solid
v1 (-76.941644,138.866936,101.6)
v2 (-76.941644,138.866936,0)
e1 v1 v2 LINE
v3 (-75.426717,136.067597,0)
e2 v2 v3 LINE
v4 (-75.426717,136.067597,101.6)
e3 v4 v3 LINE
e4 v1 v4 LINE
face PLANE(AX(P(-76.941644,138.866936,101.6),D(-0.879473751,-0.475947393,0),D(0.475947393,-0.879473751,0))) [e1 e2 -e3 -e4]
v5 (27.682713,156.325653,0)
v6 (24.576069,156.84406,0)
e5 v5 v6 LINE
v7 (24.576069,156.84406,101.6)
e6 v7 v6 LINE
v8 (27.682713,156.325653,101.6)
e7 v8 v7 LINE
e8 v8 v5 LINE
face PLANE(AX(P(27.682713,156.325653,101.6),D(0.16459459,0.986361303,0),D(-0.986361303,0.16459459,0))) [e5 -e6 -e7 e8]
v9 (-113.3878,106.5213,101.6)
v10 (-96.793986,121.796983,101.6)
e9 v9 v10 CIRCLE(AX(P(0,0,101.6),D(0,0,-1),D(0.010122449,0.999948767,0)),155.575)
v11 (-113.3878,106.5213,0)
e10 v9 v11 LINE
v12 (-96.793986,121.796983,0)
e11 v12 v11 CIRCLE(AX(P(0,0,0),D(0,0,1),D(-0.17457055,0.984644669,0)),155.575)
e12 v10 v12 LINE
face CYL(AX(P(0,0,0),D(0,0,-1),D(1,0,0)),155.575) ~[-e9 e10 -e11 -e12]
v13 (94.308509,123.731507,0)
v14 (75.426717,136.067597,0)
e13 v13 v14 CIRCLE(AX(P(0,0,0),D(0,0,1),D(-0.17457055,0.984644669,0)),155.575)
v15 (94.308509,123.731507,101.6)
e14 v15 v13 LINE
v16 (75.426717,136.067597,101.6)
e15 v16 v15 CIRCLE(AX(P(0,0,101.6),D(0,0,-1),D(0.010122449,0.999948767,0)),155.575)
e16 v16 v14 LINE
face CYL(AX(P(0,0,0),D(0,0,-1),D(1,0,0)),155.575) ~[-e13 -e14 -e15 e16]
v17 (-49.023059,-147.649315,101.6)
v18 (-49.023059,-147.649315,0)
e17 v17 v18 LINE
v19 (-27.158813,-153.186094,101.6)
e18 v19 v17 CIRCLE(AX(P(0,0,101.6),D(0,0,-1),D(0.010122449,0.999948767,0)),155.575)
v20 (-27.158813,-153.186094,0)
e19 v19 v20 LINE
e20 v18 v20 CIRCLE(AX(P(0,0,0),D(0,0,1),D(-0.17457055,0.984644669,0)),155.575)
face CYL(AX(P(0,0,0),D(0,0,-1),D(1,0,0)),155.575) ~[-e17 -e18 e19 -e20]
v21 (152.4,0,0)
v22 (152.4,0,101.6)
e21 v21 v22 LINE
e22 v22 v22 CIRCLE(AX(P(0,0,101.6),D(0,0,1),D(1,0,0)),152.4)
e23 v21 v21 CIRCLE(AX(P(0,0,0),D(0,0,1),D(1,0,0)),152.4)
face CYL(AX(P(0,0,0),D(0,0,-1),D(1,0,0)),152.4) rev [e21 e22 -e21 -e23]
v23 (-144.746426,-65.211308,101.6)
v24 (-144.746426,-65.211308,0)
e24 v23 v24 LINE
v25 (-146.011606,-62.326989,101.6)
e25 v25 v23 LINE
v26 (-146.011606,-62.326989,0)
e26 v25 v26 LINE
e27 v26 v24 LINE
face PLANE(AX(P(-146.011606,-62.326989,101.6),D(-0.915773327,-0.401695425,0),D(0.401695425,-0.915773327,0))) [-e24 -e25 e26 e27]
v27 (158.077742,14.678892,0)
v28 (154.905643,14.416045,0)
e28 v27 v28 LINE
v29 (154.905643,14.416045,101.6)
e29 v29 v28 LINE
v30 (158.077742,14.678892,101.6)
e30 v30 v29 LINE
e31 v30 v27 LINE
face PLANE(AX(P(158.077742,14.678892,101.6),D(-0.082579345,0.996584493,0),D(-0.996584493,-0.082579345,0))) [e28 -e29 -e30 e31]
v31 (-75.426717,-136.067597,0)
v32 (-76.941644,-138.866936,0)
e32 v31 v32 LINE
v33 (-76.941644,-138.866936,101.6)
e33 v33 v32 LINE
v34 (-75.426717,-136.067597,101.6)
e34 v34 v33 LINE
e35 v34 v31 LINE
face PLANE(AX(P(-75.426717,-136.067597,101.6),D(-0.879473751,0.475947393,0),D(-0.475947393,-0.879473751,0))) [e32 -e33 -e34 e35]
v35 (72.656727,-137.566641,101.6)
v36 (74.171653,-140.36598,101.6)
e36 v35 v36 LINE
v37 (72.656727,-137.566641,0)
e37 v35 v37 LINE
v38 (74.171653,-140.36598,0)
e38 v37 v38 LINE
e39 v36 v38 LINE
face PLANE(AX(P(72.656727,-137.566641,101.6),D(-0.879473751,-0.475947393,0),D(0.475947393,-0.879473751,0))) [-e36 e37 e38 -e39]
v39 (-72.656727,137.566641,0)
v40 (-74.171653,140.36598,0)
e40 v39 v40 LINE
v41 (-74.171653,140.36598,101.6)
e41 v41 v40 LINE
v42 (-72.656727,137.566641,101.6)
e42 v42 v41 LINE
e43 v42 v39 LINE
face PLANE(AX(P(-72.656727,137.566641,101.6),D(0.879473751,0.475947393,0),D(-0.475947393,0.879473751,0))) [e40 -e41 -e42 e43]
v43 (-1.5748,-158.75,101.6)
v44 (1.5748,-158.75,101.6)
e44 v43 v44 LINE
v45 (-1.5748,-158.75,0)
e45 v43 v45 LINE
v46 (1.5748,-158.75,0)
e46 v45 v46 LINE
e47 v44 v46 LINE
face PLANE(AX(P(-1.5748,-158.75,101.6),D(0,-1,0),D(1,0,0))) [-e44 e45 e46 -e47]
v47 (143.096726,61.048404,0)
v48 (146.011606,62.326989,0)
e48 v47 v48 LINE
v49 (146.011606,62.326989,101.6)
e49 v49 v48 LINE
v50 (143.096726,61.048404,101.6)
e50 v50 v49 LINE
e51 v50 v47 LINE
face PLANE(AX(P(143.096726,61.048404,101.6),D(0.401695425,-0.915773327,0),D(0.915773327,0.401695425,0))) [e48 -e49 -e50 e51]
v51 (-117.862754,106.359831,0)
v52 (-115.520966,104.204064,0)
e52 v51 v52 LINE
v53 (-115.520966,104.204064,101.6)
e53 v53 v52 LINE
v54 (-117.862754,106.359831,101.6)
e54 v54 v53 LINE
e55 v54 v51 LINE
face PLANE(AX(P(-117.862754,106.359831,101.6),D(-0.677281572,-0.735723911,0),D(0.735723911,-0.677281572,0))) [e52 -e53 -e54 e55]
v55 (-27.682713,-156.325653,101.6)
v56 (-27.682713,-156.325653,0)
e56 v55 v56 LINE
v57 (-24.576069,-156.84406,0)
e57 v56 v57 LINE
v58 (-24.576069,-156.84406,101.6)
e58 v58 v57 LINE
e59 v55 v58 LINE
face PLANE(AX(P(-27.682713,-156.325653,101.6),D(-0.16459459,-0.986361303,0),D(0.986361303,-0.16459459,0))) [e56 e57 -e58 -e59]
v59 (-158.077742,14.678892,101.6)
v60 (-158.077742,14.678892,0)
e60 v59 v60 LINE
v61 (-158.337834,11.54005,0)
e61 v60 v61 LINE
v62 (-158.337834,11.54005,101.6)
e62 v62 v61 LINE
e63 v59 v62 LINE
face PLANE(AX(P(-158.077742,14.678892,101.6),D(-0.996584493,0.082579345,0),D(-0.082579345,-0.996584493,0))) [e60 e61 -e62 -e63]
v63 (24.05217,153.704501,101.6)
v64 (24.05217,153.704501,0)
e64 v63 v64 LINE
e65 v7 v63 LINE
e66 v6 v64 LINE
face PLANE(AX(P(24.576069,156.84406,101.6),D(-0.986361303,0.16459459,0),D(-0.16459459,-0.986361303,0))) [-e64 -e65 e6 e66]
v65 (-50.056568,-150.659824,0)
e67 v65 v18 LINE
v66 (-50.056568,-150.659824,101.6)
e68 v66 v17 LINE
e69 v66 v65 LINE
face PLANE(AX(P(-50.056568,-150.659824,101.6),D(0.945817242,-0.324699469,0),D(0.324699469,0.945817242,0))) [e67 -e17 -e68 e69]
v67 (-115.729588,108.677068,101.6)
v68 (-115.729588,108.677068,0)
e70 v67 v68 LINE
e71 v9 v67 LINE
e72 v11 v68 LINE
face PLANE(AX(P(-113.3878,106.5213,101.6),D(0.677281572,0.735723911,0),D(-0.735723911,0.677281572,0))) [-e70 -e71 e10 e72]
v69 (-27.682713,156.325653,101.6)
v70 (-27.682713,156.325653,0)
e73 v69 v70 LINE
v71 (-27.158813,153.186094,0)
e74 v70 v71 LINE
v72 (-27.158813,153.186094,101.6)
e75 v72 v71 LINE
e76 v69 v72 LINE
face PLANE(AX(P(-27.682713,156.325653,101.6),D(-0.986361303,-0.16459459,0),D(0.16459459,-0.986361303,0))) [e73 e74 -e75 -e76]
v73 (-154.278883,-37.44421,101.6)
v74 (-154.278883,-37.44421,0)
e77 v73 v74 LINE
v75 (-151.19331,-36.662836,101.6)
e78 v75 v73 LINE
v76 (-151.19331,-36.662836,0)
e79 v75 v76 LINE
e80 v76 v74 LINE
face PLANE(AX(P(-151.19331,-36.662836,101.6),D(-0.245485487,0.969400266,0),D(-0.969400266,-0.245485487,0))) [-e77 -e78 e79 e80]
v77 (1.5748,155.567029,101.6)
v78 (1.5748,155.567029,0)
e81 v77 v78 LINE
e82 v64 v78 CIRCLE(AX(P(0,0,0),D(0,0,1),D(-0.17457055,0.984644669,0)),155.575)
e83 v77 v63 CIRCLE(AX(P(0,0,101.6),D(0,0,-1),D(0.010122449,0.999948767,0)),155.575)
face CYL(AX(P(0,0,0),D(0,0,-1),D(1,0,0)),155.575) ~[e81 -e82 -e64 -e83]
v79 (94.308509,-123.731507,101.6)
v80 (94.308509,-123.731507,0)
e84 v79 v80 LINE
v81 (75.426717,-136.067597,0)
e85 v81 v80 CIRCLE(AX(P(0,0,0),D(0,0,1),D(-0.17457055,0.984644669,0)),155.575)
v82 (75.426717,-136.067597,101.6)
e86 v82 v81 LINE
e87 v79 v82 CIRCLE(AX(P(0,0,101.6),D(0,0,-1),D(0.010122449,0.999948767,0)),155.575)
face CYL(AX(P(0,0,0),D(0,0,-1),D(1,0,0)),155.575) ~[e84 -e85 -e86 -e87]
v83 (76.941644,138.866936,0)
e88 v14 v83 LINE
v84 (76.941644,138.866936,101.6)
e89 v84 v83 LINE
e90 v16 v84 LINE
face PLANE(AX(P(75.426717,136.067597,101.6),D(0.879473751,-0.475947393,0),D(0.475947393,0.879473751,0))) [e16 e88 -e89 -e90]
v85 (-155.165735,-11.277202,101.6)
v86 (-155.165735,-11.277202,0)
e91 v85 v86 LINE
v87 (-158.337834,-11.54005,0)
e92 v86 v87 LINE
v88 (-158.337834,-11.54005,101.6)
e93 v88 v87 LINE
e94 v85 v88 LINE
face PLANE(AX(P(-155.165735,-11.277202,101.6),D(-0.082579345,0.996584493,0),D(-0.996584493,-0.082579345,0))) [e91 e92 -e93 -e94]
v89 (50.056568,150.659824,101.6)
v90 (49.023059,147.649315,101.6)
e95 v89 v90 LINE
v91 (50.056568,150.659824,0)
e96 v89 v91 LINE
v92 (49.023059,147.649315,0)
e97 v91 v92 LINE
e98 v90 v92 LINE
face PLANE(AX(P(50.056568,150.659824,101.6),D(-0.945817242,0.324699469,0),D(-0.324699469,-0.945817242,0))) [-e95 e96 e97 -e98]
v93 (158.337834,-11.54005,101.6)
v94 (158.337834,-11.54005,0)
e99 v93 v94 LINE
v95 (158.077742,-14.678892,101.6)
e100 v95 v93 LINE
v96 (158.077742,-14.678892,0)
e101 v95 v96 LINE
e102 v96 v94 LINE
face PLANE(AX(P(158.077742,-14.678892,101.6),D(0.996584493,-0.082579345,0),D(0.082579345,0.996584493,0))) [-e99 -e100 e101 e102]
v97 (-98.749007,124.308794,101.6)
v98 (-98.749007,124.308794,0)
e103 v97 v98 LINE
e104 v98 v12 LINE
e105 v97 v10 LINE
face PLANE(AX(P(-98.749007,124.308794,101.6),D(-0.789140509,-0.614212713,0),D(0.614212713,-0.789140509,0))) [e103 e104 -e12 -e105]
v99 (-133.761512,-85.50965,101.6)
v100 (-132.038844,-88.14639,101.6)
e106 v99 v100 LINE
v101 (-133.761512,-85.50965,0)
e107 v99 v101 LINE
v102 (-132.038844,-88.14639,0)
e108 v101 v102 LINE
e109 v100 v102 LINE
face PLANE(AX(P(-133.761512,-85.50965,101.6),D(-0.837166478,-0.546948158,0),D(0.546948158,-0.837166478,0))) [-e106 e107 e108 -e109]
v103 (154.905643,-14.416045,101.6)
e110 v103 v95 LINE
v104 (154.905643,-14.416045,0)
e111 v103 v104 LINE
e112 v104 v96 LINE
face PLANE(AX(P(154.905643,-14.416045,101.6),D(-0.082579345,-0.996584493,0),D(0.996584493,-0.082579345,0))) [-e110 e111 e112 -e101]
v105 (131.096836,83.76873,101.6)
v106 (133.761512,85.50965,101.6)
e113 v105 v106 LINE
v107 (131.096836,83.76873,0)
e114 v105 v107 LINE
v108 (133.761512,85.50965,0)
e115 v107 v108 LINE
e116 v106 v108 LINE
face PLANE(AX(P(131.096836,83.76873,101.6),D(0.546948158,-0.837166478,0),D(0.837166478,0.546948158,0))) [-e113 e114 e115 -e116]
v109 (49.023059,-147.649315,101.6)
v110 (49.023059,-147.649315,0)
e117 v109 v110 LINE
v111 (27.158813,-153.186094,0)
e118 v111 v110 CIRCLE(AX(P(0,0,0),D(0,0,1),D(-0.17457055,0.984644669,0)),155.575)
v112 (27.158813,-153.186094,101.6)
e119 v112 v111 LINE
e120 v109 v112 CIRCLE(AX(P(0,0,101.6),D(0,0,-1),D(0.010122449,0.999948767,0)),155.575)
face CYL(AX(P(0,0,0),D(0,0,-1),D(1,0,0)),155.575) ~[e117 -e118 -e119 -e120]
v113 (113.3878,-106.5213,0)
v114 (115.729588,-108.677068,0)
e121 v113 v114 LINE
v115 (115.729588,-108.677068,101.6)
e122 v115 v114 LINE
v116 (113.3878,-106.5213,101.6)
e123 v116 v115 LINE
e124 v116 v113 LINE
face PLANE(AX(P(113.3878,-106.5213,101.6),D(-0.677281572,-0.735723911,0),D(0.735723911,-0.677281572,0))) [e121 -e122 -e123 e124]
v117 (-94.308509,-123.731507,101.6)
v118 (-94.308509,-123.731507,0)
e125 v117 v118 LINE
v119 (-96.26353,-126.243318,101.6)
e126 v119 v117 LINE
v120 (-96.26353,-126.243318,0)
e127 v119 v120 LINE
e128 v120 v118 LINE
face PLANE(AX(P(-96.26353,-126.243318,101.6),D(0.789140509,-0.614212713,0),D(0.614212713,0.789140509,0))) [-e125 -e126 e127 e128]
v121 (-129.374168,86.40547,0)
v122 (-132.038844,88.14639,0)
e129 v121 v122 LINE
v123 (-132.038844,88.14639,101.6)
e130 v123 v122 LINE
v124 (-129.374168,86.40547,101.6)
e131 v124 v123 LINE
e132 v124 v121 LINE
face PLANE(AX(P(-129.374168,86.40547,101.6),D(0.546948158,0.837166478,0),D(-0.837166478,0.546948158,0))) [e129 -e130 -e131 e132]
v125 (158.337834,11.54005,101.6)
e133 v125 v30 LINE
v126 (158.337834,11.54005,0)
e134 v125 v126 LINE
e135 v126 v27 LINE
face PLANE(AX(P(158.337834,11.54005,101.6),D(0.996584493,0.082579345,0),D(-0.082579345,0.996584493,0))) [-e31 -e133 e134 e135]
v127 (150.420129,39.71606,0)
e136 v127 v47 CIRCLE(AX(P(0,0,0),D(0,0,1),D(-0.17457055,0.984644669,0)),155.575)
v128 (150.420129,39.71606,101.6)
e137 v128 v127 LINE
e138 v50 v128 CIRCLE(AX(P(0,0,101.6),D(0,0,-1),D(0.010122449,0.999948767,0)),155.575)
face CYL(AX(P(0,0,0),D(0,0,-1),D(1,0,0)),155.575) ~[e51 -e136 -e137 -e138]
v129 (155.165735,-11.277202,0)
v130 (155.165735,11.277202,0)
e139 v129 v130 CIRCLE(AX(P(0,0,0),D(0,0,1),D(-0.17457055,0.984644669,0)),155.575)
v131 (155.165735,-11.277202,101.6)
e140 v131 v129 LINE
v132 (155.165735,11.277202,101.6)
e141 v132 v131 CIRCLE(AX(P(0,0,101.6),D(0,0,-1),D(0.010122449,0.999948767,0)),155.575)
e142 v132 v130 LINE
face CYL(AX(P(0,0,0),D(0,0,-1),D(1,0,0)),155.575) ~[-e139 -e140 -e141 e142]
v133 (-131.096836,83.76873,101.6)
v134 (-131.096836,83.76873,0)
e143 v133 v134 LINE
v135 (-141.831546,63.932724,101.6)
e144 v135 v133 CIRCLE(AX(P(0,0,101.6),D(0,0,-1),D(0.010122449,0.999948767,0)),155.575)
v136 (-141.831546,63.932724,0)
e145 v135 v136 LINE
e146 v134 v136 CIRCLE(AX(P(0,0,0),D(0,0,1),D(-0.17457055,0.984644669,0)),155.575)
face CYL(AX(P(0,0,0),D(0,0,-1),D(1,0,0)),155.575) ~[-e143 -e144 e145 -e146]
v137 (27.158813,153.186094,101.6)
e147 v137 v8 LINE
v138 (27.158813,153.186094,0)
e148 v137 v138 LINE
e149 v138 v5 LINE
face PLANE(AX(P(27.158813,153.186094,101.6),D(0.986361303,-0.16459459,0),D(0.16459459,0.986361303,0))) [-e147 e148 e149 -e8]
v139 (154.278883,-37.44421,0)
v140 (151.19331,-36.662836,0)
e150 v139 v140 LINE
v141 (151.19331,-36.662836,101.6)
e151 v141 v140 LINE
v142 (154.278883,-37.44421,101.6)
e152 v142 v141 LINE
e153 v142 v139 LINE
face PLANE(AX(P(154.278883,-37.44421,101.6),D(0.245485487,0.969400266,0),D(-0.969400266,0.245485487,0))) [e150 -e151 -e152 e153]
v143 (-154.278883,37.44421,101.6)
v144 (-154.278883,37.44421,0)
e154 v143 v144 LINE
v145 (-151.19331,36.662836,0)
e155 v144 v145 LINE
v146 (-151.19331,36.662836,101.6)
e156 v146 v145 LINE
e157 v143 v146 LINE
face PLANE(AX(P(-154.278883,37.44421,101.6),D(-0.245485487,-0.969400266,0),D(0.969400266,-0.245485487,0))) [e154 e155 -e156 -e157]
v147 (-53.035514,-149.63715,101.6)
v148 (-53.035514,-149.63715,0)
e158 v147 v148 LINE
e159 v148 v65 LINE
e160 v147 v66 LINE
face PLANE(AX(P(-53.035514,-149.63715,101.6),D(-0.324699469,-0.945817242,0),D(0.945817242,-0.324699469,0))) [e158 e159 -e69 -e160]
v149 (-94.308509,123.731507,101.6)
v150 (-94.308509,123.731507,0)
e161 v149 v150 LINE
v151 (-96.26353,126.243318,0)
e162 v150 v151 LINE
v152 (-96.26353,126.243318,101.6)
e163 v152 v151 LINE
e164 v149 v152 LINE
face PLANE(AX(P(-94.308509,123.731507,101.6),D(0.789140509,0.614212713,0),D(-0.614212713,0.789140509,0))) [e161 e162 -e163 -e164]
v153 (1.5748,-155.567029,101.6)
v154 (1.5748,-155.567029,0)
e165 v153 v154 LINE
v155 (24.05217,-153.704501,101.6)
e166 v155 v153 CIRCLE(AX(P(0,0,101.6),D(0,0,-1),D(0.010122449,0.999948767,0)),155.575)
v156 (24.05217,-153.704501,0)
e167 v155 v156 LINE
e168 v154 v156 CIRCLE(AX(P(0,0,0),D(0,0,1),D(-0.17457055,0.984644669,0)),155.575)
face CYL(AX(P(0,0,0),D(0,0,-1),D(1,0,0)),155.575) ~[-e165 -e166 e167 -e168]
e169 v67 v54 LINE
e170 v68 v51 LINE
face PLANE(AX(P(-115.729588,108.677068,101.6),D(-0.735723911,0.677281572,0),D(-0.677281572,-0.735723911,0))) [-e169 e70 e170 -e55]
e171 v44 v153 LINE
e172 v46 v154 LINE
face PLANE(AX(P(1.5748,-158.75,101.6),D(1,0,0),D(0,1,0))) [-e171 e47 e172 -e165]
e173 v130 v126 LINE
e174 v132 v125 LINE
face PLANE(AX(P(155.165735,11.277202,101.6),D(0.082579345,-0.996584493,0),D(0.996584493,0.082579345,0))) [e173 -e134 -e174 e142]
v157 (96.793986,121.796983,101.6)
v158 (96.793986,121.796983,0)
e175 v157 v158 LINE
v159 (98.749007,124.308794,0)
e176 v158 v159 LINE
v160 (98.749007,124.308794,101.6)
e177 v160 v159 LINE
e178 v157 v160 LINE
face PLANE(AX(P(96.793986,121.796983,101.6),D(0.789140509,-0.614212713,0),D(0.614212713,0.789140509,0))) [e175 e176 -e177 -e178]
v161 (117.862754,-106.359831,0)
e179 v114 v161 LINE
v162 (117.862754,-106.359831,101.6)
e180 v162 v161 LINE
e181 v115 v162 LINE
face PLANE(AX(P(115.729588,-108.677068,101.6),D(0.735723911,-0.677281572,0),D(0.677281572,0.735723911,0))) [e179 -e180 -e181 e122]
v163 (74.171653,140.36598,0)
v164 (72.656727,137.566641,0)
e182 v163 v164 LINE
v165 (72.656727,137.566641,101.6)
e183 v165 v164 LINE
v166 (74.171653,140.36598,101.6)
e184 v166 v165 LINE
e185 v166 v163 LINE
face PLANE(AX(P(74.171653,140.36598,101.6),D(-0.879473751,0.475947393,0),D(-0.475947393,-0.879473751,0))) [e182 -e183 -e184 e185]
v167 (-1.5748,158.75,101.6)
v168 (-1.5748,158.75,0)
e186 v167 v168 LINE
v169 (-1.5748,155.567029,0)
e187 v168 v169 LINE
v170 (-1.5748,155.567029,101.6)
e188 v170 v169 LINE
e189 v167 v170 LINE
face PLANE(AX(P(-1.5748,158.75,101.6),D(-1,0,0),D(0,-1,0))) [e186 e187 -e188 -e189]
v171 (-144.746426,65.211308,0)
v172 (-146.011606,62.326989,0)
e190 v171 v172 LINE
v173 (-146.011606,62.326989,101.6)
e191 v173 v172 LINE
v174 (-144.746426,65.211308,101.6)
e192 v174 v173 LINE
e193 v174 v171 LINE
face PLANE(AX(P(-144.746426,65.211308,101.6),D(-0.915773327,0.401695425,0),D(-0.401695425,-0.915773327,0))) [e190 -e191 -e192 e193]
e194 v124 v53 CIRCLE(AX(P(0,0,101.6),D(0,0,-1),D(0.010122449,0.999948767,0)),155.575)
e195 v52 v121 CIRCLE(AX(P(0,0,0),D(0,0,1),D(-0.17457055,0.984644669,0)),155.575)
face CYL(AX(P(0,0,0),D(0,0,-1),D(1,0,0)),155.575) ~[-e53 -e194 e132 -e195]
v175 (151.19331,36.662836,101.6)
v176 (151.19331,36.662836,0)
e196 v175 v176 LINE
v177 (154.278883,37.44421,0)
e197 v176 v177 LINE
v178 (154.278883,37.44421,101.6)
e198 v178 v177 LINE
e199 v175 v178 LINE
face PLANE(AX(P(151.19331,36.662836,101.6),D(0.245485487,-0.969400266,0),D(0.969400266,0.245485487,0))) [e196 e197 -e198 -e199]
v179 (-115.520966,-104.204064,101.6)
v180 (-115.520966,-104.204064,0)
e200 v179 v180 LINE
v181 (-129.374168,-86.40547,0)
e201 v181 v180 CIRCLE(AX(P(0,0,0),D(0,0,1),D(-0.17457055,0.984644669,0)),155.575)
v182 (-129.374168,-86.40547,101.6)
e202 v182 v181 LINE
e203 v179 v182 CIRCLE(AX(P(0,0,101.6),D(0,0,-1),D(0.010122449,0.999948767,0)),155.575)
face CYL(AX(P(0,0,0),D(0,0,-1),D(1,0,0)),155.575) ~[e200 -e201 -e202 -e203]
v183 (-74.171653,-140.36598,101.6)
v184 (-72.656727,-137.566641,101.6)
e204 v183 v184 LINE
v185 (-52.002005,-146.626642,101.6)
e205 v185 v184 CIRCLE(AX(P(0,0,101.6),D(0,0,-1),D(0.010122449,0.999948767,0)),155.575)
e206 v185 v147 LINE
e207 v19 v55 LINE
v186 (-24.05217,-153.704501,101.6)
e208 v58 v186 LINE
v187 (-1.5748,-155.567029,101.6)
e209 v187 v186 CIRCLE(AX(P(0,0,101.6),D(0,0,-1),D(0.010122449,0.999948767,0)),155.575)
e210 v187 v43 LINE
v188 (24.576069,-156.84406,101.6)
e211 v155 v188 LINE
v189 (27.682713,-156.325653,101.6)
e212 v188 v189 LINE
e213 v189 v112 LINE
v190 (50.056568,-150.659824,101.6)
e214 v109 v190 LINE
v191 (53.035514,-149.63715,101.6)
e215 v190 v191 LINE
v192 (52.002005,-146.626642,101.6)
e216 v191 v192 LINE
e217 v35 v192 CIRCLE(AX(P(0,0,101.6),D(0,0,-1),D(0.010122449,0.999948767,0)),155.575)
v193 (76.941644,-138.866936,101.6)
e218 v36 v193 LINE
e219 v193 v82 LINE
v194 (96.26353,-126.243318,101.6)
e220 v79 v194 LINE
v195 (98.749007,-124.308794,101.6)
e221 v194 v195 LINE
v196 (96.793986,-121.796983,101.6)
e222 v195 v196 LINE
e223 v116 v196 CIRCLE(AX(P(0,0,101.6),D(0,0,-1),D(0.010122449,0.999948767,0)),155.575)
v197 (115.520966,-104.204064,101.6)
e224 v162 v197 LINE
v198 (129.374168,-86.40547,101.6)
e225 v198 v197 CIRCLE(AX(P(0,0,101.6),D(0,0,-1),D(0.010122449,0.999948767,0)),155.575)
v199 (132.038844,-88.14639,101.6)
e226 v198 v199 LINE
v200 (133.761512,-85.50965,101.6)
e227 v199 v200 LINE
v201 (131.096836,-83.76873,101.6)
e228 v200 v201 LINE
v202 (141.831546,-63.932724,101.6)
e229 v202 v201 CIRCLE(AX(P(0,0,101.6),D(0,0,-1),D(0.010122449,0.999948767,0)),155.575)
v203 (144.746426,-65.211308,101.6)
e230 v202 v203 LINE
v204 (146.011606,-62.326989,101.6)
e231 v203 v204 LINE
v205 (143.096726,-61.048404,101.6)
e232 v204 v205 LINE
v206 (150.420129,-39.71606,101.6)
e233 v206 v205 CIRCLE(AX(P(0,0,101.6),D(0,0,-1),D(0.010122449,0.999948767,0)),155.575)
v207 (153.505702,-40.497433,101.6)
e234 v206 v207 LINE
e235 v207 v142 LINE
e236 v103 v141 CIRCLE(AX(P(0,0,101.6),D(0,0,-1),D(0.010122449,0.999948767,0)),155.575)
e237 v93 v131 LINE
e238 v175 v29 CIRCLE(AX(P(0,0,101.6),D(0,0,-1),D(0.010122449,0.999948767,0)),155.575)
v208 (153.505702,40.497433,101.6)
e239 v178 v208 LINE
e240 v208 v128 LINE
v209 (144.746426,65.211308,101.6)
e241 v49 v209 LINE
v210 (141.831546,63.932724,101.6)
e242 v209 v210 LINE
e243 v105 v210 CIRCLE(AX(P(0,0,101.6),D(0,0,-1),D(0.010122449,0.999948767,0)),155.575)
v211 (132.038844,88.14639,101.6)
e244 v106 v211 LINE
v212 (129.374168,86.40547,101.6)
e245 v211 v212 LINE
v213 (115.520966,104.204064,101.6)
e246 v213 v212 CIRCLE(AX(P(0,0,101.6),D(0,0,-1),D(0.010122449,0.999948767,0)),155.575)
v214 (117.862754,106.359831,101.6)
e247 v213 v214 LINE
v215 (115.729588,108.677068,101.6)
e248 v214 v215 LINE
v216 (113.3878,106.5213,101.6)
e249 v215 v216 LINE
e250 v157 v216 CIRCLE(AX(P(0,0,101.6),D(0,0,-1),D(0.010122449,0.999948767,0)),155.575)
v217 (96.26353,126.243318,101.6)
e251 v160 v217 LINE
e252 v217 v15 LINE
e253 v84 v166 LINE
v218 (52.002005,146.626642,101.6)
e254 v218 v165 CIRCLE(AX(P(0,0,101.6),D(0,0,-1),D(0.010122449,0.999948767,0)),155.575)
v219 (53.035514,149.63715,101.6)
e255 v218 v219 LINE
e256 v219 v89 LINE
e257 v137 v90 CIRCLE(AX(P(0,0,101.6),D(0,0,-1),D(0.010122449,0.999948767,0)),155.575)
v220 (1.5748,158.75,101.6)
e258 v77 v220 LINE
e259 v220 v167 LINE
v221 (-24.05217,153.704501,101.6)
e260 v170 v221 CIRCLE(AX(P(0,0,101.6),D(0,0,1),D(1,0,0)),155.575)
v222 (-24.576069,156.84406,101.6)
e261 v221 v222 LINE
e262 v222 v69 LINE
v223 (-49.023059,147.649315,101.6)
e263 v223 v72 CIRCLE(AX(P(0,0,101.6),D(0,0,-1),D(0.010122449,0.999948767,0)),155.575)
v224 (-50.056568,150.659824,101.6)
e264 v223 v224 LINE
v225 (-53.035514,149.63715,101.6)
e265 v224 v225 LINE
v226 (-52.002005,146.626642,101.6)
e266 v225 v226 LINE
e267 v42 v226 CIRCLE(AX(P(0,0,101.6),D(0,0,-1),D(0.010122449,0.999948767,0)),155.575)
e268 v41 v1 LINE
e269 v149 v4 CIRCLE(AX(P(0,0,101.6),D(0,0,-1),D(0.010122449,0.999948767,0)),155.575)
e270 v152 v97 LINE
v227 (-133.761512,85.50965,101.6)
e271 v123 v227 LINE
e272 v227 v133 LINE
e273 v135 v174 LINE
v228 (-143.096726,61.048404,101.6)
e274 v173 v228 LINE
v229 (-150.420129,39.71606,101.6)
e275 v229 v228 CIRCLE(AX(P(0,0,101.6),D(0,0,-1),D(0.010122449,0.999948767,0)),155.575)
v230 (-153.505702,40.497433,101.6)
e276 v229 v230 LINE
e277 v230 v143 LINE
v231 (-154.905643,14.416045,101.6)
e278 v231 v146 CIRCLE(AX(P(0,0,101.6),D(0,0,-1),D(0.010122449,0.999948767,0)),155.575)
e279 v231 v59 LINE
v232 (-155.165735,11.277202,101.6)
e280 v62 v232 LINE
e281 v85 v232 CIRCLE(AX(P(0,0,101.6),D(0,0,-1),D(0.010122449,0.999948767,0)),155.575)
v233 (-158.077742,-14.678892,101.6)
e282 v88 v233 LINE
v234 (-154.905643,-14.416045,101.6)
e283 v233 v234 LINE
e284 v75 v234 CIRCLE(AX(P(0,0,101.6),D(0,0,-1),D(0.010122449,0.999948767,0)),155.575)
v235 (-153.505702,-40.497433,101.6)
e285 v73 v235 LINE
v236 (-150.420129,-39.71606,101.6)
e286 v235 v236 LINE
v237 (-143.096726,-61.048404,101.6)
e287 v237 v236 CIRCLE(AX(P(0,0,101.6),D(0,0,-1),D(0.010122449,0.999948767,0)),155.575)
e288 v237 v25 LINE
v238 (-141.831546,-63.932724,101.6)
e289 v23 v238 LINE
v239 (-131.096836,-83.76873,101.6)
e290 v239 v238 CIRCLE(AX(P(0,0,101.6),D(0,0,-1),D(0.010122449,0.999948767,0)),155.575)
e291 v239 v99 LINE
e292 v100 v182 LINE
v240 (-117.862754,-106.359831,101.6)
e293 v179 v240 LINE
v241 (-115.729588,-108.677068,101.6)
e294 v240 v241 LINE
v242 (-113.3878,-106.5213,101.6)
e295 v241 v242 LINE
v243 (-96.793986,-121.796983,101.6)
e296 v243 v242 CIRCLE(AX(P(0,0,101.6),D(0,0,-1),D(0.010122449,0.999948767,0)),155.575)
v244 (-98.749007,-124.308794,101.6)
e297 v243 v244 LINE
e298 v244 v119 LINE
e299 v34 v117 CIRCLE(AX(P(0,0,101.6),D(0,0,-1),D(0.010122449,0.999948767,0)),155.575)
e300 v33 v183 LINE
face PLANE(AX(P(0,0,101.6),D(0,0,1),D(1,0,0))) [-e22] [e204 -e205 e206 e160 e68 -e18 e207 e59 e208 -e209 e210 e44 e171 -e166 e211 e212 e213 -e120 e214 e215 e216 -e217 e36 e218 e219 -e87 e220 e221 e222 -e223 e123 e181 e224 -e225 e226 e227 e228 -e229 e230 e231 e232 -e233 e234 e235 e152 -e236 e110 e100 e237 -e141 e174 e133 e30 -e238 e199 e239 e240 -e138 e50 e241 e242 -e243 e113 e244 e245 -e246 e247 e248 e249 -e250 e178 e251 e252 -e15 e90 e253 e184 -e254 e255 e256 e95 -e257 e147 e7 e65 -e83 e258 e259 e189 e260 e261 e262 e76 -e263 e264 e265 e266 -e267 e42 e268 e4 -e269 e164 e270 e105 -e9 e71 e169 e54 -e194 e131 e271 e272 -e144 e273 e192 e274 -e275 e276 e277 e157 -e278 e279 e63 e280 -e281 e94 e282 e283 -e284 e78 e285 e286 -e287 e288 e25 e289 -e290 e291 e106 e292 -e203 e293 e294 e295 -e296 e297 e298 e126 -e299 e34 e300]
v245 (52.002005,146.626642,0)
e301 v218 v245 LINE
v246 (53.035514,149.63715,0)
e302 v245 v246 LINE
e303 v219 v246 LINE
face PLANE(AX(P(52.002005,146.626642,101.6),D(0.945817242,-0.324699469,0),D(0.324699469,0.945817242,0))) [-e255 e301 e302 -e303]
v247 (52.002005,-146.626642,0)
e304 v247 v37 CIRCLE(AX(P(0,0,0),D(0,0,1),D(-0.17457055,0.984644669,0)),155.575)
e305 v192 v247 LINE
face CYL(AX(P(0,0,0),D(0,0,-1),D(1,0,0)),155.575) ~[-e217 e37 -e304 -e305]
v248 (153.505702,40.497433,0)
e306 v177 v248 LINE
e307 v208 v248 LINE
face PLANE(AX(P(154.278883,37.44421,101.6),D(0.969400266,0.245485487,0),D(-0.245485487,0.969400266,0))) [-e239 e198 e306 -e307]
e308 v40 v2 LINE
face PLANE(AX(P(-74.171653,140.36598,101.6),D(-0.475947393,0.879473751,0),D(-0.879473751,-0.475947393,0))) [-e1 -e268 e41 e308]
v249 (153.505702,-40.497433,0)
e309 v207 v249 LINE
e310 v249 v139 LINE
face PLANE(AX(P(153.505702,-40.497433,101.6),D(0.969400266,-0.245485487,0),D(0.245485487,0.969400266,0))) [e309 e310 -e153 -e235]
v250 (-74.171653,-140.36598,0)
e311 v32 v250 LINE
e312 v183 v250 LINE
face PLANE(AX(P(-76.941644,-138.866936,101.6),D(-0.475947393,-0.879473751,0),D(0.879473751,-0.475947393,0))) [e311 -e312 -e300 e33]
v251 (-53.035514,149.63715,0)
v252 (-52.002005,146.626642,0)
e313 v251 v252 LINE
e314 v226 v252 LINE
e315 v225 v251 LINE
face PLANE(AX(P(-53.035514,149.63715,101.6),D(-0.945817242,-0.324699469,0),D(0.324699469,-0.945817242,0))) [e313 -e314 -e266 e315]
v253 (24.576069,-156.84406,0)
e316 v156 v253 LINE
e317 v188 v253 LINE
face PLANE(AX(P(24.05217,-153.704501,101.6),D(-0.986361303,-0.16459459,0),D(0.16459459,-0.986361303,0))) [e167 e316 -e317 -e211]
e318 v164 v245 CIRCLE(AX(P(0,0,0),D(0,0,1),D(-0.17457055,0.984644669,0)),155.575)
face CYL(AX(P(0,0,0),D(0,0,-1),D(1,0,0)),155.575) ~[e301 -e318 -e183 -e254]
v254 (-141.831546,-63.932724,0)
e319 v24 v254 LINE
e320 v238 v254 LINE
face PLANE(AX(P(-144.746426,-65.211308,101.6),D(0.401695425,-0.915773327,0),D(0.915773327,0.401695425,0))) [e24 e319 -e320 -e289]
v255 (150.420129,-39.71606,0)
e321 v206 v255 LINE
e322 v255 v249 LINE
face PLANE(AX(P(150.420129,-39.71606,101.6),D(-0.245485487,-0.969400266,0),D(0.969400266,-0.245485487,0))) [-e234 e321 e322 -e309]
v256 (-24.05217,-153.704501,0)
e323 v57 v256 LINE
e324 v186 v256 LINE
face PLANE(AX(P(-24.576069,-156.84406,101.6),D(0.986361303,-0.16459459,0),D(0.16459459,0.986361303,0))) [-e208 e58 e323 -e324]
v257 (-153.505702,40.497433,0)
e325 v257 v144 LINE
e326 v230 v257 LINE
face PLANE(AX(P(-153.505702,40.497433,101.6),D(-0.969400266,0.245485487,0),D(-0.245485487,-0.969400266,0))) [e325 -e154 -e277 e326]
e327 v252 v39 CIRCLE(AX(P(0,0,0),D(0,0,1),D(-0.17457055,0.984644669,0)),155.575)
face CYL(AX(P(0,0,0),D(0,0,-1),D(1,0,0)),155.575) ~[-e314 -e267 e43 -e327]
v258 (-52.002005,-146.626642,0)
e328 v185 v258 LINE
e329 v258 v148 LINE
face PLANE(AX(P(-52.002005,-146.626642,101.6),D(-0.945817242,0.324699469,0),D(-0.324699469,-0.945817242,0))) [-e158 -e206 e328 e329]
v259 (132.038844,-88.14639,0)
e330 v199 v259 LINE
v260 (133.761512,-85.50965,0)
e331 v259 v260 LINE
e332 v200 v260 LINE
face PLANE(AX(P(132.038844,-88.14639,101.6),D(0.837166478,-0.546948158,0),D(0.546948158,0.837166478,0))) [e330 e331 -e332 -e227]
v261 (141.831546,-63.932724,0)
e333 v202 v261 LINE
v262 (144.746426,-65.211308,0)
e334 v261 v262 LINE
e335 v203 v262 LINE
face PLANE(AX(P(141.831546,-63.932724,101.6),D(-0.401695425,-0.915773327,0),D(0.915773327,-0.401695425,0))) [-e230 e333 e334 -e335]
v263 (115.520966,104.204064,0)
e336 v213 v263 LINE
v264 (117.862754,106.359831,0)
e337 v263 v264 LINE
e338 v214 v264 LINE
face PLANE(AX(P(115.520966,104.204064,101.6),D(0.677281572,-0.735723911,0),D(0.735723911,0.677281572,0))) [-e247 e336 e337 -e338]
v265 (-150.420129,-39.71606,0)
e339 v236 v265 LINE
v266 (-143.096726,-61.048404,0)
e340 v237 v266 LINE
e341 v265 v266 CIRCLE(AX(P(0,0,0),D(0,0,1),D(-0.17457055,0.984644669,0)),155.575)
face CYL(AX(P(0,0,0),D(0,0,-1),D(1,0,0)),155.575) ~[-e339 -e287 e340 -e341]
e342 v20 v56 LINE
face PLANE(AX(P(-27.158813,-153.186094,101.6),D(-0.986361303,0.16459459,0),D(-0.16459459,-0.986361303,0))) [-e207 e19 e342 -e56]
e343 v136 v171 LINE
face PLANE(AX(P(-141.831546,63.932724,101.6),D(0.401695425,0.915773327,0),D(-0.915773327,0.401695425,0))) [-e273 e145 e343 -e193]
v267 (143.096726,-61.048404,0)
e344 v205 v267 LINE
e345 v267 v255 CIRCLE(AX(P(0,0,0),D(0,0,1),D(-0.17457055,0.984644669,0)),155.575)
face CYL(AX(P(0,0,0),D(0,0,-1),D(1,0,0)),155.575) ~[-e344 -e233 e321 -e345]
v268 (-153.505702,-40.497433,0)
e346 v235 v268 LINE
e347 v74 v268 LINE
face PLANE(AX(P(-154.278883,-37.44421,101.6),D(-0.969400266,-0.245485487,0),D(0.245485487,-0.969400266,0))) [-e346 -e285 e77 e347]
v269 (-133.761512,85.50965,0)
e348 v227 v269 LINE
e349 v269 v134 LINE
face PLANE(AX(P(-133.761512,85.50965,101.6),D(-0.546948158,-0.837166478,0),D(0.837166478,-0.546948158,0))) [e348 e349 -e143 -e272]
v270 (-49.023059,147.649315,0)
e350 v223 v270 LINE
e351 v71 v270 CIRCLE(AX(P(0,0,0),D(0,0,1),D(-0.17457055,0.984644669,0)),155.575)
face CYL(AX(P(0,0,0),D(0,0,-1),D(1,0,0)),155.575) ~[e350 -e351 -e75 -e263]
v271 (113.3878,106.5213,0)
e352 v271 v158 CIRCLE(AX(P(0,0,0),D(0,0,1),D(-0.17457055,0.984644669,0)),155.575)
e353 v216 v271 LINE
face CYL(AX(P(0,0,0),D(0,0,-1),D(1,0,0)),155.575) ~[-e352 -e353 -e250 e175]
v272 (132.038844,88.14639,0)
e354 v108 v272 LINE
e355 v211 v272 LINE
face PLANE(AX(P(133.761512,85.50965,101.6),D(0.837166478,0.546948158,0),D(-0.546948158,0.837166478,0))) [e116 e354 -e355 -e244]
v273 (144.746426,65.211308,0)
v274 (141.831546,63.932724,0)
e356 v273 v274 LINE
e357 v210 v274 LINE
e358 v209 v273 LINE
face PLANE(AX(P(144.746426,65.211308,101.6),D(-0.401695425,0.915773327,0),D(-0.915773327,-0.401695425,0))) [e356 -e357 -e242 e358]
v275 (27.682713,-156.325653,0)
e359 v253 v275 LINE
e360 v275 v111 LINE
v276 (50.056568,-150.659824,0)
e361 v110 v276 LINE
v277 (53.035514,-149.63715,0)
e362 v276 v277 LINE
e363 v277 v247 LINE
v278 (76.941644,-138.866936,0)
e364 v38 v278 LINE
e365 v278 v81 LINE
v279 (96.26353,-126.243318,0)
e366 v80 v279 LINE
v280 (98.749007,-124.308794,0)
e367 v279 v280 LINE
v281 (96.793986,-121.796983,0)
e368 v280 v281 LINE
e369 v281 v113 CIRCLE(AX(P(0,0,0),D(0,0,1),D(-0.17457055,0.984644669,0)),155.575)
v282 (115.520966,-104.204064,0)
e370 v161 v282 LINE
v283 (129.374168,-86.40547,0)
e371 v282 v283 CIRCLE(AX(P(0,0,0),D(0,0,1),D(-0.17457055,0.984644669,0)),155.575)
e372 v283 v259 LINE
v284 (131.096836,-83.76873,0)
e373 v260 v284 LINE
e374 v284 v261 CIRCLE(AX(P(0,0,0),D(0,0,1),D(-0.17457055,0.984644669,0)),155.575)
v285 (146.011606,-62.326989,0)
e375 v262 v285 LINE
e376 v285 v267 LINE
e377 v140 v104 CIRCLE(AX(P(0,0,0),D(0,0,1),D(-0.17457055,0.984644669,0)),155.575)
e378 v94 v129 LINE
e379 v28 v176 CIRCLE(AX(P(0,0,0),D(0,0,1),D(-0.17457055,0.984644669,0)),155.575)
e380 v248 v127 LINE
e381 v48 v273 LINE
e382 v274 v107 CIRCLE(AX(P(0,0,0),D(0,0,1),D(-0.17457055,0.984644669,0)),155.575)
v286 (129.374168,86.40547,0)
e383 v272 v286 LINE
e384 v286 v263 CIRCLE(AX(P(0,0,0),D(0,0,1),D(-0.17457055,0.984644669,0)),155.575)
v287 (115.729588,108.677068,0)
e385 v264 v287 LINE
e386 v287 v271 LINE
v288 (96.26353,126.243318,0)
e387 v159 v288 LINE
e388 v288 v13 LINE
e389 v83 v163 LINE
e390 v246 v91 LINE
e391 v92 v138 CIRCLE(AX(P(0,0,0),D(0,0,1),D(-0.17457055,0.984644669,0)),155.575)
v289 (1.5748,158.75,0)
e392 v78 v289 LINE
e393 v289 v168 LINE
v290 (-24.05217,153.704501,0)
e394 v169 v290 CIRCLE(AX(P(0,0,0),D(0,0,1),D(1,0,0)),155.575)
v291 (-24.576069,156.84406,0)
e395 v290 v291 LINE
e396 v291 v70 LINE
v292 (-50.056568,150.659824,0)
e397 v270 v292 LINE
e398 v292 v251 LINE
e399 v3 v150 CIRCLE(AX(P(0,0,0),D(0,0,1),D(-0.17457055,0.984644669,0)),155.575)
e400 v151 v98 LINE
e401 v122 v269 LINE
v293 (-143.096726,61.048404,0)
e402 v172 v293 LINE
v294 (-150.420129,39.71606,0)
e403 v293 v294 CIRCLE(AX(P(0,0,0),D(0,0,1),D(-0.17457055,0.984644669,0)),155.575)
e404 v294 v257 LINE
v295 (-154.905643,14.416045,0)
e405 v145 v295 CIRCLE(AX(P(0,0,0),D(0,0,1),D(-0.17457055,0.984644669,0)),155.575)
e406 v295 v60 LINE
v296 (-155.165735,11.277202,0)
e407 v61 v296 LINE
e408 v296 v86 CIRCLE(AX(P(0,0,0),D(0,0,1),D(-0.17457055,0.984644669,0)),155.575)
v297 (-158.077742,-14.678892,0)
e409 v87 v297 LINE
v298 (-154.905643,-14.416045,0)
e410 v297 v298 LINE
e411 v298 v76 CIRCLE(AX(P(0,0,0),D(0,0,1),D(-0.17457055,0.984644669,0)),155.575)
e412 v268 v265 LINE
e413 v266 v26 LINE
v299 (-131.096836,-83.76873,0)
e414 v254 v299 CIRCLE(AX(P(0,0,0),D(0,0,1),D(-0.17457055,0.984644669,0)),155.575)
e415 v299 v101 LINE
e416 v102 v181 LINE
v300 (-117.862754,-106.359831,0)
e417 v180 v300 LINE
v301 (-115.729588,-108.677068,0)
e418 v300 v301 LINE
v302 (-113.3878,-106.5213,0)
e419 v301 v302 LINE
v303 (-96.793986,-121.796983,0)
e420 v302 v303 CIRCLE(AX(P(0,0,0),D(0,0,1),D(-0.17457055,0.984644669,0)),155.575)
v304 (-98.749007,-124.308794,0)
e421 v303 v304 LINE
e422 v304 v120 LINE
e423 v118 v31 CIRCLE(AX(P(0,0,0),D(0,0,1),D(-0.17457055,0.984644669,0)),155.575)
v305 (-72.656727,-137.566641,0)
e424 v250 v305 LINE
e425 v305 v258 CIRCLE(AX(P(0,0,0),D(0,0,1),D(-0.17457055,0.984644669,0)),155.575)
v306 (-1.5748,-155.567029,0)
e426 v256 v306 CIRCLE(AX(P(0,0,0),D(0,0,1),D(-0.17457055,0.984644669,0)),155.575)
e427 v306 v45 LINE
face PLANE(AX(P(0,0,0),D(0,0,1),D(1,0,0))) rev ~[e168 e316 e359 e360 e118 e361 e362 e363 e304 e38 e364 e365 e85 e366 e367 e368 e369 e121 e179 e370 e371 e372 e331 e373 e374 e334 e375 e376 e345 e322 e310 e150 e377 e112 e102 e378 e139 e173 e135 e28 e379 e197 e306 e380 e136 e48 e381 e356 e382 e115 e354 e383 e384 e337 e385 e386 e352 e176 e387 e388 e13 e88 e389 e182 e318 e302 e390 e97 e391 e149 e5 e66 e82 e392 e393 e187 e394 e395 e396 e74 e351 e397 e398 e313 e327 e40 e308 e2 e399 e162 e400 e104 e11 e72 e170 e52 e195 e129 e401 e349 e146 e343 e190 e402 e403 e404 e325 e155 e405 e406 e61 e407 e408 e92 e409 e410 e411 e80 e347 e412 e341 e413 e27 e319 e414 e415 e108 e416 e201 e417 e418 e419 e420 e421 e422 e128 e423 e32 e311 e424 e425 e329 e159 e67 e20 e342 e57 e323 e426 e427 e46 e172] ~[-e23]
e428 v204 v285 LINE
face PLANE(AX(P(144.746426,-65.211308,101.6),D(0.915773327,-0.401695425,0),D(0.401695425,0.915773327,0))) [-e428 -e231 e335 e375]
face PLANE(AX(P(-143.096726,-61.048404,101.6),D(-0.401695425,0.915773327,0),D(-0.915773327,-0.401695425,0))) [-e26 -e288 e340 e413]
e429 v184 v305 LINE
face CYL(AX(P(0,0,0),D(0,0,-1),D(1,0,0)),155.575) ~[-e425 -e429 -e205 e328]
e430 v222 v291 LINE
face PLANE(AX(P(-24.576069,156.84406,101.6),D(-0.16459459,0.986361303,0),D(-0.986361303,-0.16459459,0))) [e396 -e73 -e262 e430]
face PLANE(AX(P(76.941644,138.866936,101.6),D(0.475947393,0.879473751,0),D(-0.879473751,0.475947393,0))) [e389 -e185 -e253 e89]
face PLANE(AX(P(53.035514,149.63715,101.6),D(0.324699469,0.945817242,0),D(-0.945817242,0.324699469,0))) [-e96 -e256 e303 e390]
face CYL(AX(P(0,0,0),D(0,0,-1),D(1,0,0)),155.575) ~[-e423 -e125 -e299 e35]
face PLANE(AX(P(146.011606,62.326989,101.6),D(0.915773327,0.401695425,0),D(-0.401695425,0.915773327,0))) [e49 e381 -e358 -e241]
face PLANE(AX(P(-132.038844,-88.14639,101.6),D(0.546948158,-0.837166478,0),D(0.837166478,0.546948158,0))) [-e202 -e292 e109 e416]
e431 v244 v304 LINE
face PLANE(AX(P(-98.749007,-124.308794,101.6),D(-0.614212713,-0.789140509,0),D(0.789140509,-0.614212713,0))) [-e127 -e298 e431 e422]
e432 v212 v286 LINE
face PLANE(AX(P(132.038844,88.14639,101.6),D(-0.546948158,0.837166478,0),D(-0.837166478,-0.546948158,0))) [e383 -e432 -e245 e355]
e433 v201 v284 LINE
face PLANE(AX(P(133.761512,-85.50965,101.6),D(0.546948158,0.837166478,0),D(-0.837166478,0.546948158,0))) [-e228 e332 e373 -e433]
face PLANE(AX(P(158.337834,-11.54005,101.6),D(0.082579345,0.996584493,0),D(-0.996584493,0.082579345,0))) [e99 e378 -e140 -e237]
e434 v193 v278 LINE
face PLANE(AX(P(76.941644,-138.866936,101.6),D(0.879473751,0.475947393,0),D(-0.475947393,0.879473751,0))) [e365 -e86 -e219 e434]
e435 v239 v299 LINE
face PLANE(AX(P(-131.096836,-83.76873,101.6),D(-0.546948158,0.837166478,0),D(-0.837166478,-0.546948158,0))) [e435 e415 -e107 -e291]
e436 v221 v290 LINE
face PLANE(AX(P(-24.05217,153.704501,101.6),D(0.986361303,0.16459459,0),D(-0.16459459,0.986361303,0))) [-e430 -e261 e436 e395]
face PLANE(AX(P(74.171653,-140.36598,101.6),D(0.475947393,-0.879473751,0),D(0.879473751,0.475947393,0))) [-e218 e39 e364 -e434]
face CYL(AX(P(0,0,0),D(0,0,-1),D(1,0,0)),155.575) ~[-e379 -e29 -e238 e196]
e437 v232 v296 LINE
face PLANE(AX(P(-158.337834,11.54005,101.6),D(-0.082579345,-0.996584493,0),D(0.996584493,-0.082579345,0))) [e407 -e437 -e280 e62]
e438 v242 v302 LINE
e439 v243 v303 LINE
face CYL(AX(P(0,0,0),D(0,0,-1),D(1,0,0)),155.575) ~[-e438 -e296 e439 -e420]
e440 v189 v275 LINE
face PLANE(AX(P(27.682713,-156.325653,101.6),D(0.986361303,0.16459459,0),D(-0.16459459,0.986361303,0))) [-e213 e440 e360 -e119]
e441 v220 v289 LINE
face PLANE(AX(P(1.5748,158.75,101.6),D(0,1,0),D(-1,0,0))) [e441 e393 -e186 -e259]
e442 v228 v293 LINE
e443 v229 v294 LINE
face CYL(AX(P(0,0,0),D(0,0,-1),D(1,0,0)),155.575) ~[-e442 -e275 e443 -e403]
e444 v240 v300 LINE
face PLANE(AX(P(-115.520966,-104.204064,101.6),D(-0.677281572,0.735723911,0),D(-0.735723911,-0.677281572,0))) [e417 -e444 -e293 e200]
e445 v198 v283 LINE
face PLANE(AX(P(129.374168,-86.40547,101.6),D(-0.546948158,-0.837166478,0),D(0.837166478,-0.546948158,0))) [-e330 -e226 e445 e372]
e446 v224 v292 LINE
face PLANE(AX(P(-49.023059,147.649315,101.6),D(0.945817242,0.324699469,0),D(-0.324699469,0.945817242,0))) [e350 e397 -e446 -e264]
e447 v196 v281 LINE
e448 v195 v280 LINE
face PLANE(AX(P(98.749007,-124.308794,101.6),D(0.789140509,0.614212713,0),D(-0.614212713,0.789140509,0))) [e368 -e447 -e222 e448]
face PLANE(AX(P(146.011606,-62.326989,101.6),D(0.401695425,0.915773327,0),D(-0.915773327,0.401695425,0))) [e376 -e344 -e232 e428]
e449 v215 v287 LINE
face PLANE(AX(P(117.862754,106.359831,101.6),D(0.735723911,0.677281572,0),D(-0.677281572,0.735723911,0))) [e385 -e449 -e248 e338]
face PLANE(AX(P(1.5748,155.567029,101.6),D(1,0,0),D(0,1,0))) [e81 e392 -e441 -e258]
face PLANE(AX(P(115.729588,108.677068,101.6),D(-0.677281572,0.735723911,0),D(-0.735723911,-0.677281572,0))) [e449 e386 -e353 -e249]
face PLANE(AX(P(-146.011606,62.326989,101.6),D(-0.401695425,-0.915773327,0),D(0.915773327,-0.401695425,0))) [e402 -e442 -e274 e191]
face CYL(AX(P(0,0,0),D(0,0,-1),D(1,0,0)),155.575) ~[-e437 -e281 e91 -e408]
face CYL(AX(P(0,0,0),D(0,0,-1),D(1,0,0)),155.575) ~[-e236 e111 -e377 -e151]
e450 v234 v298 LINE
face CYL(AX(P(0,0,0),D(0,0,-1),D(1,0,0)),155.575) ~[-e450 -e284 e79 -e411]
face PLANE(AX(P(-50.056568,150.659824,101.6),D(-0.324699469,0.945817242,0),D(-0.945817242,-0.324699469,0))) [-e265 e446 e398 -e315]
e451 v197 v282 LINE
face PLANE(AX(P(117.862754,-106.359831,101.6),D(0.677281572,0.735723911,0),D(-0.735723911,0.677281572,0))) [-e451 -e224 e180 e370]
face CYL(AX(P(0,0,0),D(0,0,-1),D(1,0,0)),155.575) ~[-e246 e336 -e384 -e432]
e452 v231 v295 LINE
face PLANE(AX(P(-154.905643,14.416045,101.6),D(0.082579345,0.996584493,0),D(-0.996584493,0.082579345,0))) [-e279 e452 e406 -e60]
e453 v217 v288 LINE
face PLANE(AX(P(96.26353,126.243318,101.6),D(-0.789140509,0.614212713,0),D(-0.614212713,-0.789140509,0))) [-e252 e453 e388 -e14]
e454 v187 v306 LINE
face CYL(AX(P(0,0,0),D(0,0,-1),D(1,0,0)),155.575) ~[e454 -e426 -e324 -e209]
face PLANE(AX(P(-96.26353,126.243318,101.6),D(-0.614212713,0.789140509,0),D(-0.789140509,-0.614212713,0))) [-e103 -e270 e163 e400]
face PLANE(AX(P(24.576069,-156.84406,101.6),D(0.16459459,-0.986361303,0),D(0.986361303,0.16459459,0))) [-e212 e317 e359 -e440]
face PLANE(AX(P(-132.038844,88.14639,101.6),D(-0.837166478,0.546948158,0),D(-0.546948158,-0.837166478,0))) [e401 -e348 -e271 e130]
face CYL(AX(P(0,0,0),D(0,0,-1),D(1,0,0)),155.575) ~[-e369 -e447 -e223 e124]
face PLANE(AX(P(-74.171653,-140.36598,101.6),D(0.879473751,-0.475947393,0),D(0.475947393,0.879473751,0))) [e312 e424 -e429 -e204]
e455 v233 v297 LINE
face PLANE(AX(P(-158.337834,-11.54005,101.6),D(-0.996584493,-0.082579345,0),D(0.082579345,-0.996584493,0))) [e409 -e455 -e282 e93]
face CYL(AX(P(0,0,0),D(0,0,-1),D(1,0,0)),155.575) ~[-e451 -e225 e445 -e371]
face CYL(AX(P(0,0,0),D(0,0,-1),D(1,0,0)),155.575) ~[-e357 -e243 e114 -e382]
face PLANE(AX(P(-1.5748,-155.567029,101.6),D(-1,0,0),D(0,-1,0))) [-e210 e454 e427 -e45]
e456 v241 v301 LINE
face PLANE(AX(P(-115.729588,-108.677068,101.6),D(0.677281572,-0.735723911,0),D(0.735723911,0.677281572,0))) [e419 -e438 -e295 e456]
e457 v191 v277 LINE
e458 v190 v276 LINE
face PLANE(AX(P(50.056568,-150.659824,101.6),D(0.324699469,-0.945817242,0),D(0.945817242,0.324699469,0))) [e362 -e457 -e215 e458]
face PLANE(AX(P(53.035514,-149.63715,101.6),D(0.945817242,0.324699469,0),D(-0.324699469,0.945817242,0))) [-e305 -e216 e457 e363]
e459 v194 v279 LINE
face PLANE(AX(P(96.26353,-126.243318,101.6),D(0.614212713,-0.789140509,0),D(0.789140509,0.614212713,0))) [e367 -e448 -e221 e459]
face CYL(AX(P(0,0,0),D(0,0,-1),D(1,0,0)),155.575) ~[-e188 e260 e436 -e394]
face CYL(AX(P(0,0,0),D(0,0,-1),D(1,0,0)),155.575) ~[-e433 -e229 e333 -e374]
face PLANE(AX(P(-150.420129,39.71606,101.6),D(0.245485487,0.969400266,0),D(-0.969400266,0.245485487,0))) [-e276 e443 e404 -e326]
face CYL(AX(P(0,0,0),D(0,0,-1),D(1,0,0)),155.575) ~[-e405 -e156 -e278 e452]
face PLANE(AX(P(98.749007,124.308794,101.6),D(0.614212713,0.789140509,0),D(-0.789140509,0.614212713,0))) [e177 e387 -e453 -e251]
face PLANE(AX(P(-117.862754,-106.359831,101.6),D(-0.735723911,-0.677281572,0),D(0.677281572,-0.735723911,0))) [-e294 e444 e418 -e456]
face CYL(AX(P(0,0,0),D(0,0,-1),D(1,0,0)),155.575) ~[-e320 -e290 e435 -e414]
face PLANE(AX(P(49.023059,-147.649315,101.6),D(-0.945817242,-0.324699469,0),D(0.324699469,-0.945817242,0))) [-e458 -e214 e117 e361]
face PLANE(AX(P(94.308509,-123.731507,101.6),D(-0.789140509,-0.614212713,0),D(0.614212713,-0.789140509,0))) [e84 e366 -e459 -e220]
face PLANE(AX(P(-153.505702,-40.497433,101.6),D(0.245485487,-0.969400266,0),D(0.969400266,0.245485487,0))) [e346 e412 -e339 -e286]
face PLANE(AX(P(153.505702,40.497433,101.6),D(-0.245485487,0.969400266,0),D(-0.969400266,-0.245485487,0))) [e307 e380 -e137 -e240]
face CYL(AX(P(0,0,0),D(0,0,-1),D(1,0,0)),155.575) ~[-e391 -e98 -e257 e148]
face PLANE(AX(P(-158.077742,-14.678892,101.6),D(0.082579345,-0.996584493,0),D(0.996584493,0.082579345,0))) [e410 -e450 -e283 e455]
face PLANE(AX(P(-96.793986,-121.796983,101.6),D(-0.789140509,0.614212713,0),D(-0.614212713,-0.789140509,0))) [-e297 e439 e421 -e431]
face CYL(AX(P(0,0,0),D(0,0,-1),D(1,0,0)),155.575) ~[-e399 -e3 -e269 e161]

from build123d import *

# Parameters (mm, degrees)
SKETCH1_R           = 155.575
SKETCH1_R_2         = 152.4
BOSS_EXTRUDE1_DEPTH = 101.6
BOSS_EXTRUDE2_DEPTH = 101.6
CIRPATTERN1_COUNT   = 38


with BuildPart() as part:
    # Sketch1 → Boss-Extrude1 (new body)
    with BuildSketch(Plane.XY):
        Circle(SKETCH1_R)
        Circle(SKETCH1_R_2, mode=Mode.SUBTRACT)
    extrude(amount=BOSS_EXTRUDE1_DEPTH)

    # Sketch2 → Boss-Extrude2 (add, through all)
    with BuildSketch(Plane.XY.offset(101.6)):
        with BuildLine():
            Line((-1.5748, 158.75), (-1.5748, 155.567029379))
            ThreePointArc((-1.5748, 155.567029379), (0, 155.575), (1.5748, 155.567029379))
            Line((1.5748, 155.567029379), (1.5748, 158.75))
            Line((1.5748, 158.75), (-1.5748, 158.75))
        make_face()
    boss_extrude2 = extrude(amount=-BOSS_EXTRUDE2_DEPTH)

    # CirPattern1: Boss-Extrude2 ×38 about axis
    cirpattern1_axis = Axis((0, 0, 0), (0, 0, 1))
    for i in range(1, CIRPATTERN1_COUNT):
        add(boss_extrude2.rotate(cirpattern1_axis, i * 360 / CIRPATTERN1_COUNT))


solid = part.part
